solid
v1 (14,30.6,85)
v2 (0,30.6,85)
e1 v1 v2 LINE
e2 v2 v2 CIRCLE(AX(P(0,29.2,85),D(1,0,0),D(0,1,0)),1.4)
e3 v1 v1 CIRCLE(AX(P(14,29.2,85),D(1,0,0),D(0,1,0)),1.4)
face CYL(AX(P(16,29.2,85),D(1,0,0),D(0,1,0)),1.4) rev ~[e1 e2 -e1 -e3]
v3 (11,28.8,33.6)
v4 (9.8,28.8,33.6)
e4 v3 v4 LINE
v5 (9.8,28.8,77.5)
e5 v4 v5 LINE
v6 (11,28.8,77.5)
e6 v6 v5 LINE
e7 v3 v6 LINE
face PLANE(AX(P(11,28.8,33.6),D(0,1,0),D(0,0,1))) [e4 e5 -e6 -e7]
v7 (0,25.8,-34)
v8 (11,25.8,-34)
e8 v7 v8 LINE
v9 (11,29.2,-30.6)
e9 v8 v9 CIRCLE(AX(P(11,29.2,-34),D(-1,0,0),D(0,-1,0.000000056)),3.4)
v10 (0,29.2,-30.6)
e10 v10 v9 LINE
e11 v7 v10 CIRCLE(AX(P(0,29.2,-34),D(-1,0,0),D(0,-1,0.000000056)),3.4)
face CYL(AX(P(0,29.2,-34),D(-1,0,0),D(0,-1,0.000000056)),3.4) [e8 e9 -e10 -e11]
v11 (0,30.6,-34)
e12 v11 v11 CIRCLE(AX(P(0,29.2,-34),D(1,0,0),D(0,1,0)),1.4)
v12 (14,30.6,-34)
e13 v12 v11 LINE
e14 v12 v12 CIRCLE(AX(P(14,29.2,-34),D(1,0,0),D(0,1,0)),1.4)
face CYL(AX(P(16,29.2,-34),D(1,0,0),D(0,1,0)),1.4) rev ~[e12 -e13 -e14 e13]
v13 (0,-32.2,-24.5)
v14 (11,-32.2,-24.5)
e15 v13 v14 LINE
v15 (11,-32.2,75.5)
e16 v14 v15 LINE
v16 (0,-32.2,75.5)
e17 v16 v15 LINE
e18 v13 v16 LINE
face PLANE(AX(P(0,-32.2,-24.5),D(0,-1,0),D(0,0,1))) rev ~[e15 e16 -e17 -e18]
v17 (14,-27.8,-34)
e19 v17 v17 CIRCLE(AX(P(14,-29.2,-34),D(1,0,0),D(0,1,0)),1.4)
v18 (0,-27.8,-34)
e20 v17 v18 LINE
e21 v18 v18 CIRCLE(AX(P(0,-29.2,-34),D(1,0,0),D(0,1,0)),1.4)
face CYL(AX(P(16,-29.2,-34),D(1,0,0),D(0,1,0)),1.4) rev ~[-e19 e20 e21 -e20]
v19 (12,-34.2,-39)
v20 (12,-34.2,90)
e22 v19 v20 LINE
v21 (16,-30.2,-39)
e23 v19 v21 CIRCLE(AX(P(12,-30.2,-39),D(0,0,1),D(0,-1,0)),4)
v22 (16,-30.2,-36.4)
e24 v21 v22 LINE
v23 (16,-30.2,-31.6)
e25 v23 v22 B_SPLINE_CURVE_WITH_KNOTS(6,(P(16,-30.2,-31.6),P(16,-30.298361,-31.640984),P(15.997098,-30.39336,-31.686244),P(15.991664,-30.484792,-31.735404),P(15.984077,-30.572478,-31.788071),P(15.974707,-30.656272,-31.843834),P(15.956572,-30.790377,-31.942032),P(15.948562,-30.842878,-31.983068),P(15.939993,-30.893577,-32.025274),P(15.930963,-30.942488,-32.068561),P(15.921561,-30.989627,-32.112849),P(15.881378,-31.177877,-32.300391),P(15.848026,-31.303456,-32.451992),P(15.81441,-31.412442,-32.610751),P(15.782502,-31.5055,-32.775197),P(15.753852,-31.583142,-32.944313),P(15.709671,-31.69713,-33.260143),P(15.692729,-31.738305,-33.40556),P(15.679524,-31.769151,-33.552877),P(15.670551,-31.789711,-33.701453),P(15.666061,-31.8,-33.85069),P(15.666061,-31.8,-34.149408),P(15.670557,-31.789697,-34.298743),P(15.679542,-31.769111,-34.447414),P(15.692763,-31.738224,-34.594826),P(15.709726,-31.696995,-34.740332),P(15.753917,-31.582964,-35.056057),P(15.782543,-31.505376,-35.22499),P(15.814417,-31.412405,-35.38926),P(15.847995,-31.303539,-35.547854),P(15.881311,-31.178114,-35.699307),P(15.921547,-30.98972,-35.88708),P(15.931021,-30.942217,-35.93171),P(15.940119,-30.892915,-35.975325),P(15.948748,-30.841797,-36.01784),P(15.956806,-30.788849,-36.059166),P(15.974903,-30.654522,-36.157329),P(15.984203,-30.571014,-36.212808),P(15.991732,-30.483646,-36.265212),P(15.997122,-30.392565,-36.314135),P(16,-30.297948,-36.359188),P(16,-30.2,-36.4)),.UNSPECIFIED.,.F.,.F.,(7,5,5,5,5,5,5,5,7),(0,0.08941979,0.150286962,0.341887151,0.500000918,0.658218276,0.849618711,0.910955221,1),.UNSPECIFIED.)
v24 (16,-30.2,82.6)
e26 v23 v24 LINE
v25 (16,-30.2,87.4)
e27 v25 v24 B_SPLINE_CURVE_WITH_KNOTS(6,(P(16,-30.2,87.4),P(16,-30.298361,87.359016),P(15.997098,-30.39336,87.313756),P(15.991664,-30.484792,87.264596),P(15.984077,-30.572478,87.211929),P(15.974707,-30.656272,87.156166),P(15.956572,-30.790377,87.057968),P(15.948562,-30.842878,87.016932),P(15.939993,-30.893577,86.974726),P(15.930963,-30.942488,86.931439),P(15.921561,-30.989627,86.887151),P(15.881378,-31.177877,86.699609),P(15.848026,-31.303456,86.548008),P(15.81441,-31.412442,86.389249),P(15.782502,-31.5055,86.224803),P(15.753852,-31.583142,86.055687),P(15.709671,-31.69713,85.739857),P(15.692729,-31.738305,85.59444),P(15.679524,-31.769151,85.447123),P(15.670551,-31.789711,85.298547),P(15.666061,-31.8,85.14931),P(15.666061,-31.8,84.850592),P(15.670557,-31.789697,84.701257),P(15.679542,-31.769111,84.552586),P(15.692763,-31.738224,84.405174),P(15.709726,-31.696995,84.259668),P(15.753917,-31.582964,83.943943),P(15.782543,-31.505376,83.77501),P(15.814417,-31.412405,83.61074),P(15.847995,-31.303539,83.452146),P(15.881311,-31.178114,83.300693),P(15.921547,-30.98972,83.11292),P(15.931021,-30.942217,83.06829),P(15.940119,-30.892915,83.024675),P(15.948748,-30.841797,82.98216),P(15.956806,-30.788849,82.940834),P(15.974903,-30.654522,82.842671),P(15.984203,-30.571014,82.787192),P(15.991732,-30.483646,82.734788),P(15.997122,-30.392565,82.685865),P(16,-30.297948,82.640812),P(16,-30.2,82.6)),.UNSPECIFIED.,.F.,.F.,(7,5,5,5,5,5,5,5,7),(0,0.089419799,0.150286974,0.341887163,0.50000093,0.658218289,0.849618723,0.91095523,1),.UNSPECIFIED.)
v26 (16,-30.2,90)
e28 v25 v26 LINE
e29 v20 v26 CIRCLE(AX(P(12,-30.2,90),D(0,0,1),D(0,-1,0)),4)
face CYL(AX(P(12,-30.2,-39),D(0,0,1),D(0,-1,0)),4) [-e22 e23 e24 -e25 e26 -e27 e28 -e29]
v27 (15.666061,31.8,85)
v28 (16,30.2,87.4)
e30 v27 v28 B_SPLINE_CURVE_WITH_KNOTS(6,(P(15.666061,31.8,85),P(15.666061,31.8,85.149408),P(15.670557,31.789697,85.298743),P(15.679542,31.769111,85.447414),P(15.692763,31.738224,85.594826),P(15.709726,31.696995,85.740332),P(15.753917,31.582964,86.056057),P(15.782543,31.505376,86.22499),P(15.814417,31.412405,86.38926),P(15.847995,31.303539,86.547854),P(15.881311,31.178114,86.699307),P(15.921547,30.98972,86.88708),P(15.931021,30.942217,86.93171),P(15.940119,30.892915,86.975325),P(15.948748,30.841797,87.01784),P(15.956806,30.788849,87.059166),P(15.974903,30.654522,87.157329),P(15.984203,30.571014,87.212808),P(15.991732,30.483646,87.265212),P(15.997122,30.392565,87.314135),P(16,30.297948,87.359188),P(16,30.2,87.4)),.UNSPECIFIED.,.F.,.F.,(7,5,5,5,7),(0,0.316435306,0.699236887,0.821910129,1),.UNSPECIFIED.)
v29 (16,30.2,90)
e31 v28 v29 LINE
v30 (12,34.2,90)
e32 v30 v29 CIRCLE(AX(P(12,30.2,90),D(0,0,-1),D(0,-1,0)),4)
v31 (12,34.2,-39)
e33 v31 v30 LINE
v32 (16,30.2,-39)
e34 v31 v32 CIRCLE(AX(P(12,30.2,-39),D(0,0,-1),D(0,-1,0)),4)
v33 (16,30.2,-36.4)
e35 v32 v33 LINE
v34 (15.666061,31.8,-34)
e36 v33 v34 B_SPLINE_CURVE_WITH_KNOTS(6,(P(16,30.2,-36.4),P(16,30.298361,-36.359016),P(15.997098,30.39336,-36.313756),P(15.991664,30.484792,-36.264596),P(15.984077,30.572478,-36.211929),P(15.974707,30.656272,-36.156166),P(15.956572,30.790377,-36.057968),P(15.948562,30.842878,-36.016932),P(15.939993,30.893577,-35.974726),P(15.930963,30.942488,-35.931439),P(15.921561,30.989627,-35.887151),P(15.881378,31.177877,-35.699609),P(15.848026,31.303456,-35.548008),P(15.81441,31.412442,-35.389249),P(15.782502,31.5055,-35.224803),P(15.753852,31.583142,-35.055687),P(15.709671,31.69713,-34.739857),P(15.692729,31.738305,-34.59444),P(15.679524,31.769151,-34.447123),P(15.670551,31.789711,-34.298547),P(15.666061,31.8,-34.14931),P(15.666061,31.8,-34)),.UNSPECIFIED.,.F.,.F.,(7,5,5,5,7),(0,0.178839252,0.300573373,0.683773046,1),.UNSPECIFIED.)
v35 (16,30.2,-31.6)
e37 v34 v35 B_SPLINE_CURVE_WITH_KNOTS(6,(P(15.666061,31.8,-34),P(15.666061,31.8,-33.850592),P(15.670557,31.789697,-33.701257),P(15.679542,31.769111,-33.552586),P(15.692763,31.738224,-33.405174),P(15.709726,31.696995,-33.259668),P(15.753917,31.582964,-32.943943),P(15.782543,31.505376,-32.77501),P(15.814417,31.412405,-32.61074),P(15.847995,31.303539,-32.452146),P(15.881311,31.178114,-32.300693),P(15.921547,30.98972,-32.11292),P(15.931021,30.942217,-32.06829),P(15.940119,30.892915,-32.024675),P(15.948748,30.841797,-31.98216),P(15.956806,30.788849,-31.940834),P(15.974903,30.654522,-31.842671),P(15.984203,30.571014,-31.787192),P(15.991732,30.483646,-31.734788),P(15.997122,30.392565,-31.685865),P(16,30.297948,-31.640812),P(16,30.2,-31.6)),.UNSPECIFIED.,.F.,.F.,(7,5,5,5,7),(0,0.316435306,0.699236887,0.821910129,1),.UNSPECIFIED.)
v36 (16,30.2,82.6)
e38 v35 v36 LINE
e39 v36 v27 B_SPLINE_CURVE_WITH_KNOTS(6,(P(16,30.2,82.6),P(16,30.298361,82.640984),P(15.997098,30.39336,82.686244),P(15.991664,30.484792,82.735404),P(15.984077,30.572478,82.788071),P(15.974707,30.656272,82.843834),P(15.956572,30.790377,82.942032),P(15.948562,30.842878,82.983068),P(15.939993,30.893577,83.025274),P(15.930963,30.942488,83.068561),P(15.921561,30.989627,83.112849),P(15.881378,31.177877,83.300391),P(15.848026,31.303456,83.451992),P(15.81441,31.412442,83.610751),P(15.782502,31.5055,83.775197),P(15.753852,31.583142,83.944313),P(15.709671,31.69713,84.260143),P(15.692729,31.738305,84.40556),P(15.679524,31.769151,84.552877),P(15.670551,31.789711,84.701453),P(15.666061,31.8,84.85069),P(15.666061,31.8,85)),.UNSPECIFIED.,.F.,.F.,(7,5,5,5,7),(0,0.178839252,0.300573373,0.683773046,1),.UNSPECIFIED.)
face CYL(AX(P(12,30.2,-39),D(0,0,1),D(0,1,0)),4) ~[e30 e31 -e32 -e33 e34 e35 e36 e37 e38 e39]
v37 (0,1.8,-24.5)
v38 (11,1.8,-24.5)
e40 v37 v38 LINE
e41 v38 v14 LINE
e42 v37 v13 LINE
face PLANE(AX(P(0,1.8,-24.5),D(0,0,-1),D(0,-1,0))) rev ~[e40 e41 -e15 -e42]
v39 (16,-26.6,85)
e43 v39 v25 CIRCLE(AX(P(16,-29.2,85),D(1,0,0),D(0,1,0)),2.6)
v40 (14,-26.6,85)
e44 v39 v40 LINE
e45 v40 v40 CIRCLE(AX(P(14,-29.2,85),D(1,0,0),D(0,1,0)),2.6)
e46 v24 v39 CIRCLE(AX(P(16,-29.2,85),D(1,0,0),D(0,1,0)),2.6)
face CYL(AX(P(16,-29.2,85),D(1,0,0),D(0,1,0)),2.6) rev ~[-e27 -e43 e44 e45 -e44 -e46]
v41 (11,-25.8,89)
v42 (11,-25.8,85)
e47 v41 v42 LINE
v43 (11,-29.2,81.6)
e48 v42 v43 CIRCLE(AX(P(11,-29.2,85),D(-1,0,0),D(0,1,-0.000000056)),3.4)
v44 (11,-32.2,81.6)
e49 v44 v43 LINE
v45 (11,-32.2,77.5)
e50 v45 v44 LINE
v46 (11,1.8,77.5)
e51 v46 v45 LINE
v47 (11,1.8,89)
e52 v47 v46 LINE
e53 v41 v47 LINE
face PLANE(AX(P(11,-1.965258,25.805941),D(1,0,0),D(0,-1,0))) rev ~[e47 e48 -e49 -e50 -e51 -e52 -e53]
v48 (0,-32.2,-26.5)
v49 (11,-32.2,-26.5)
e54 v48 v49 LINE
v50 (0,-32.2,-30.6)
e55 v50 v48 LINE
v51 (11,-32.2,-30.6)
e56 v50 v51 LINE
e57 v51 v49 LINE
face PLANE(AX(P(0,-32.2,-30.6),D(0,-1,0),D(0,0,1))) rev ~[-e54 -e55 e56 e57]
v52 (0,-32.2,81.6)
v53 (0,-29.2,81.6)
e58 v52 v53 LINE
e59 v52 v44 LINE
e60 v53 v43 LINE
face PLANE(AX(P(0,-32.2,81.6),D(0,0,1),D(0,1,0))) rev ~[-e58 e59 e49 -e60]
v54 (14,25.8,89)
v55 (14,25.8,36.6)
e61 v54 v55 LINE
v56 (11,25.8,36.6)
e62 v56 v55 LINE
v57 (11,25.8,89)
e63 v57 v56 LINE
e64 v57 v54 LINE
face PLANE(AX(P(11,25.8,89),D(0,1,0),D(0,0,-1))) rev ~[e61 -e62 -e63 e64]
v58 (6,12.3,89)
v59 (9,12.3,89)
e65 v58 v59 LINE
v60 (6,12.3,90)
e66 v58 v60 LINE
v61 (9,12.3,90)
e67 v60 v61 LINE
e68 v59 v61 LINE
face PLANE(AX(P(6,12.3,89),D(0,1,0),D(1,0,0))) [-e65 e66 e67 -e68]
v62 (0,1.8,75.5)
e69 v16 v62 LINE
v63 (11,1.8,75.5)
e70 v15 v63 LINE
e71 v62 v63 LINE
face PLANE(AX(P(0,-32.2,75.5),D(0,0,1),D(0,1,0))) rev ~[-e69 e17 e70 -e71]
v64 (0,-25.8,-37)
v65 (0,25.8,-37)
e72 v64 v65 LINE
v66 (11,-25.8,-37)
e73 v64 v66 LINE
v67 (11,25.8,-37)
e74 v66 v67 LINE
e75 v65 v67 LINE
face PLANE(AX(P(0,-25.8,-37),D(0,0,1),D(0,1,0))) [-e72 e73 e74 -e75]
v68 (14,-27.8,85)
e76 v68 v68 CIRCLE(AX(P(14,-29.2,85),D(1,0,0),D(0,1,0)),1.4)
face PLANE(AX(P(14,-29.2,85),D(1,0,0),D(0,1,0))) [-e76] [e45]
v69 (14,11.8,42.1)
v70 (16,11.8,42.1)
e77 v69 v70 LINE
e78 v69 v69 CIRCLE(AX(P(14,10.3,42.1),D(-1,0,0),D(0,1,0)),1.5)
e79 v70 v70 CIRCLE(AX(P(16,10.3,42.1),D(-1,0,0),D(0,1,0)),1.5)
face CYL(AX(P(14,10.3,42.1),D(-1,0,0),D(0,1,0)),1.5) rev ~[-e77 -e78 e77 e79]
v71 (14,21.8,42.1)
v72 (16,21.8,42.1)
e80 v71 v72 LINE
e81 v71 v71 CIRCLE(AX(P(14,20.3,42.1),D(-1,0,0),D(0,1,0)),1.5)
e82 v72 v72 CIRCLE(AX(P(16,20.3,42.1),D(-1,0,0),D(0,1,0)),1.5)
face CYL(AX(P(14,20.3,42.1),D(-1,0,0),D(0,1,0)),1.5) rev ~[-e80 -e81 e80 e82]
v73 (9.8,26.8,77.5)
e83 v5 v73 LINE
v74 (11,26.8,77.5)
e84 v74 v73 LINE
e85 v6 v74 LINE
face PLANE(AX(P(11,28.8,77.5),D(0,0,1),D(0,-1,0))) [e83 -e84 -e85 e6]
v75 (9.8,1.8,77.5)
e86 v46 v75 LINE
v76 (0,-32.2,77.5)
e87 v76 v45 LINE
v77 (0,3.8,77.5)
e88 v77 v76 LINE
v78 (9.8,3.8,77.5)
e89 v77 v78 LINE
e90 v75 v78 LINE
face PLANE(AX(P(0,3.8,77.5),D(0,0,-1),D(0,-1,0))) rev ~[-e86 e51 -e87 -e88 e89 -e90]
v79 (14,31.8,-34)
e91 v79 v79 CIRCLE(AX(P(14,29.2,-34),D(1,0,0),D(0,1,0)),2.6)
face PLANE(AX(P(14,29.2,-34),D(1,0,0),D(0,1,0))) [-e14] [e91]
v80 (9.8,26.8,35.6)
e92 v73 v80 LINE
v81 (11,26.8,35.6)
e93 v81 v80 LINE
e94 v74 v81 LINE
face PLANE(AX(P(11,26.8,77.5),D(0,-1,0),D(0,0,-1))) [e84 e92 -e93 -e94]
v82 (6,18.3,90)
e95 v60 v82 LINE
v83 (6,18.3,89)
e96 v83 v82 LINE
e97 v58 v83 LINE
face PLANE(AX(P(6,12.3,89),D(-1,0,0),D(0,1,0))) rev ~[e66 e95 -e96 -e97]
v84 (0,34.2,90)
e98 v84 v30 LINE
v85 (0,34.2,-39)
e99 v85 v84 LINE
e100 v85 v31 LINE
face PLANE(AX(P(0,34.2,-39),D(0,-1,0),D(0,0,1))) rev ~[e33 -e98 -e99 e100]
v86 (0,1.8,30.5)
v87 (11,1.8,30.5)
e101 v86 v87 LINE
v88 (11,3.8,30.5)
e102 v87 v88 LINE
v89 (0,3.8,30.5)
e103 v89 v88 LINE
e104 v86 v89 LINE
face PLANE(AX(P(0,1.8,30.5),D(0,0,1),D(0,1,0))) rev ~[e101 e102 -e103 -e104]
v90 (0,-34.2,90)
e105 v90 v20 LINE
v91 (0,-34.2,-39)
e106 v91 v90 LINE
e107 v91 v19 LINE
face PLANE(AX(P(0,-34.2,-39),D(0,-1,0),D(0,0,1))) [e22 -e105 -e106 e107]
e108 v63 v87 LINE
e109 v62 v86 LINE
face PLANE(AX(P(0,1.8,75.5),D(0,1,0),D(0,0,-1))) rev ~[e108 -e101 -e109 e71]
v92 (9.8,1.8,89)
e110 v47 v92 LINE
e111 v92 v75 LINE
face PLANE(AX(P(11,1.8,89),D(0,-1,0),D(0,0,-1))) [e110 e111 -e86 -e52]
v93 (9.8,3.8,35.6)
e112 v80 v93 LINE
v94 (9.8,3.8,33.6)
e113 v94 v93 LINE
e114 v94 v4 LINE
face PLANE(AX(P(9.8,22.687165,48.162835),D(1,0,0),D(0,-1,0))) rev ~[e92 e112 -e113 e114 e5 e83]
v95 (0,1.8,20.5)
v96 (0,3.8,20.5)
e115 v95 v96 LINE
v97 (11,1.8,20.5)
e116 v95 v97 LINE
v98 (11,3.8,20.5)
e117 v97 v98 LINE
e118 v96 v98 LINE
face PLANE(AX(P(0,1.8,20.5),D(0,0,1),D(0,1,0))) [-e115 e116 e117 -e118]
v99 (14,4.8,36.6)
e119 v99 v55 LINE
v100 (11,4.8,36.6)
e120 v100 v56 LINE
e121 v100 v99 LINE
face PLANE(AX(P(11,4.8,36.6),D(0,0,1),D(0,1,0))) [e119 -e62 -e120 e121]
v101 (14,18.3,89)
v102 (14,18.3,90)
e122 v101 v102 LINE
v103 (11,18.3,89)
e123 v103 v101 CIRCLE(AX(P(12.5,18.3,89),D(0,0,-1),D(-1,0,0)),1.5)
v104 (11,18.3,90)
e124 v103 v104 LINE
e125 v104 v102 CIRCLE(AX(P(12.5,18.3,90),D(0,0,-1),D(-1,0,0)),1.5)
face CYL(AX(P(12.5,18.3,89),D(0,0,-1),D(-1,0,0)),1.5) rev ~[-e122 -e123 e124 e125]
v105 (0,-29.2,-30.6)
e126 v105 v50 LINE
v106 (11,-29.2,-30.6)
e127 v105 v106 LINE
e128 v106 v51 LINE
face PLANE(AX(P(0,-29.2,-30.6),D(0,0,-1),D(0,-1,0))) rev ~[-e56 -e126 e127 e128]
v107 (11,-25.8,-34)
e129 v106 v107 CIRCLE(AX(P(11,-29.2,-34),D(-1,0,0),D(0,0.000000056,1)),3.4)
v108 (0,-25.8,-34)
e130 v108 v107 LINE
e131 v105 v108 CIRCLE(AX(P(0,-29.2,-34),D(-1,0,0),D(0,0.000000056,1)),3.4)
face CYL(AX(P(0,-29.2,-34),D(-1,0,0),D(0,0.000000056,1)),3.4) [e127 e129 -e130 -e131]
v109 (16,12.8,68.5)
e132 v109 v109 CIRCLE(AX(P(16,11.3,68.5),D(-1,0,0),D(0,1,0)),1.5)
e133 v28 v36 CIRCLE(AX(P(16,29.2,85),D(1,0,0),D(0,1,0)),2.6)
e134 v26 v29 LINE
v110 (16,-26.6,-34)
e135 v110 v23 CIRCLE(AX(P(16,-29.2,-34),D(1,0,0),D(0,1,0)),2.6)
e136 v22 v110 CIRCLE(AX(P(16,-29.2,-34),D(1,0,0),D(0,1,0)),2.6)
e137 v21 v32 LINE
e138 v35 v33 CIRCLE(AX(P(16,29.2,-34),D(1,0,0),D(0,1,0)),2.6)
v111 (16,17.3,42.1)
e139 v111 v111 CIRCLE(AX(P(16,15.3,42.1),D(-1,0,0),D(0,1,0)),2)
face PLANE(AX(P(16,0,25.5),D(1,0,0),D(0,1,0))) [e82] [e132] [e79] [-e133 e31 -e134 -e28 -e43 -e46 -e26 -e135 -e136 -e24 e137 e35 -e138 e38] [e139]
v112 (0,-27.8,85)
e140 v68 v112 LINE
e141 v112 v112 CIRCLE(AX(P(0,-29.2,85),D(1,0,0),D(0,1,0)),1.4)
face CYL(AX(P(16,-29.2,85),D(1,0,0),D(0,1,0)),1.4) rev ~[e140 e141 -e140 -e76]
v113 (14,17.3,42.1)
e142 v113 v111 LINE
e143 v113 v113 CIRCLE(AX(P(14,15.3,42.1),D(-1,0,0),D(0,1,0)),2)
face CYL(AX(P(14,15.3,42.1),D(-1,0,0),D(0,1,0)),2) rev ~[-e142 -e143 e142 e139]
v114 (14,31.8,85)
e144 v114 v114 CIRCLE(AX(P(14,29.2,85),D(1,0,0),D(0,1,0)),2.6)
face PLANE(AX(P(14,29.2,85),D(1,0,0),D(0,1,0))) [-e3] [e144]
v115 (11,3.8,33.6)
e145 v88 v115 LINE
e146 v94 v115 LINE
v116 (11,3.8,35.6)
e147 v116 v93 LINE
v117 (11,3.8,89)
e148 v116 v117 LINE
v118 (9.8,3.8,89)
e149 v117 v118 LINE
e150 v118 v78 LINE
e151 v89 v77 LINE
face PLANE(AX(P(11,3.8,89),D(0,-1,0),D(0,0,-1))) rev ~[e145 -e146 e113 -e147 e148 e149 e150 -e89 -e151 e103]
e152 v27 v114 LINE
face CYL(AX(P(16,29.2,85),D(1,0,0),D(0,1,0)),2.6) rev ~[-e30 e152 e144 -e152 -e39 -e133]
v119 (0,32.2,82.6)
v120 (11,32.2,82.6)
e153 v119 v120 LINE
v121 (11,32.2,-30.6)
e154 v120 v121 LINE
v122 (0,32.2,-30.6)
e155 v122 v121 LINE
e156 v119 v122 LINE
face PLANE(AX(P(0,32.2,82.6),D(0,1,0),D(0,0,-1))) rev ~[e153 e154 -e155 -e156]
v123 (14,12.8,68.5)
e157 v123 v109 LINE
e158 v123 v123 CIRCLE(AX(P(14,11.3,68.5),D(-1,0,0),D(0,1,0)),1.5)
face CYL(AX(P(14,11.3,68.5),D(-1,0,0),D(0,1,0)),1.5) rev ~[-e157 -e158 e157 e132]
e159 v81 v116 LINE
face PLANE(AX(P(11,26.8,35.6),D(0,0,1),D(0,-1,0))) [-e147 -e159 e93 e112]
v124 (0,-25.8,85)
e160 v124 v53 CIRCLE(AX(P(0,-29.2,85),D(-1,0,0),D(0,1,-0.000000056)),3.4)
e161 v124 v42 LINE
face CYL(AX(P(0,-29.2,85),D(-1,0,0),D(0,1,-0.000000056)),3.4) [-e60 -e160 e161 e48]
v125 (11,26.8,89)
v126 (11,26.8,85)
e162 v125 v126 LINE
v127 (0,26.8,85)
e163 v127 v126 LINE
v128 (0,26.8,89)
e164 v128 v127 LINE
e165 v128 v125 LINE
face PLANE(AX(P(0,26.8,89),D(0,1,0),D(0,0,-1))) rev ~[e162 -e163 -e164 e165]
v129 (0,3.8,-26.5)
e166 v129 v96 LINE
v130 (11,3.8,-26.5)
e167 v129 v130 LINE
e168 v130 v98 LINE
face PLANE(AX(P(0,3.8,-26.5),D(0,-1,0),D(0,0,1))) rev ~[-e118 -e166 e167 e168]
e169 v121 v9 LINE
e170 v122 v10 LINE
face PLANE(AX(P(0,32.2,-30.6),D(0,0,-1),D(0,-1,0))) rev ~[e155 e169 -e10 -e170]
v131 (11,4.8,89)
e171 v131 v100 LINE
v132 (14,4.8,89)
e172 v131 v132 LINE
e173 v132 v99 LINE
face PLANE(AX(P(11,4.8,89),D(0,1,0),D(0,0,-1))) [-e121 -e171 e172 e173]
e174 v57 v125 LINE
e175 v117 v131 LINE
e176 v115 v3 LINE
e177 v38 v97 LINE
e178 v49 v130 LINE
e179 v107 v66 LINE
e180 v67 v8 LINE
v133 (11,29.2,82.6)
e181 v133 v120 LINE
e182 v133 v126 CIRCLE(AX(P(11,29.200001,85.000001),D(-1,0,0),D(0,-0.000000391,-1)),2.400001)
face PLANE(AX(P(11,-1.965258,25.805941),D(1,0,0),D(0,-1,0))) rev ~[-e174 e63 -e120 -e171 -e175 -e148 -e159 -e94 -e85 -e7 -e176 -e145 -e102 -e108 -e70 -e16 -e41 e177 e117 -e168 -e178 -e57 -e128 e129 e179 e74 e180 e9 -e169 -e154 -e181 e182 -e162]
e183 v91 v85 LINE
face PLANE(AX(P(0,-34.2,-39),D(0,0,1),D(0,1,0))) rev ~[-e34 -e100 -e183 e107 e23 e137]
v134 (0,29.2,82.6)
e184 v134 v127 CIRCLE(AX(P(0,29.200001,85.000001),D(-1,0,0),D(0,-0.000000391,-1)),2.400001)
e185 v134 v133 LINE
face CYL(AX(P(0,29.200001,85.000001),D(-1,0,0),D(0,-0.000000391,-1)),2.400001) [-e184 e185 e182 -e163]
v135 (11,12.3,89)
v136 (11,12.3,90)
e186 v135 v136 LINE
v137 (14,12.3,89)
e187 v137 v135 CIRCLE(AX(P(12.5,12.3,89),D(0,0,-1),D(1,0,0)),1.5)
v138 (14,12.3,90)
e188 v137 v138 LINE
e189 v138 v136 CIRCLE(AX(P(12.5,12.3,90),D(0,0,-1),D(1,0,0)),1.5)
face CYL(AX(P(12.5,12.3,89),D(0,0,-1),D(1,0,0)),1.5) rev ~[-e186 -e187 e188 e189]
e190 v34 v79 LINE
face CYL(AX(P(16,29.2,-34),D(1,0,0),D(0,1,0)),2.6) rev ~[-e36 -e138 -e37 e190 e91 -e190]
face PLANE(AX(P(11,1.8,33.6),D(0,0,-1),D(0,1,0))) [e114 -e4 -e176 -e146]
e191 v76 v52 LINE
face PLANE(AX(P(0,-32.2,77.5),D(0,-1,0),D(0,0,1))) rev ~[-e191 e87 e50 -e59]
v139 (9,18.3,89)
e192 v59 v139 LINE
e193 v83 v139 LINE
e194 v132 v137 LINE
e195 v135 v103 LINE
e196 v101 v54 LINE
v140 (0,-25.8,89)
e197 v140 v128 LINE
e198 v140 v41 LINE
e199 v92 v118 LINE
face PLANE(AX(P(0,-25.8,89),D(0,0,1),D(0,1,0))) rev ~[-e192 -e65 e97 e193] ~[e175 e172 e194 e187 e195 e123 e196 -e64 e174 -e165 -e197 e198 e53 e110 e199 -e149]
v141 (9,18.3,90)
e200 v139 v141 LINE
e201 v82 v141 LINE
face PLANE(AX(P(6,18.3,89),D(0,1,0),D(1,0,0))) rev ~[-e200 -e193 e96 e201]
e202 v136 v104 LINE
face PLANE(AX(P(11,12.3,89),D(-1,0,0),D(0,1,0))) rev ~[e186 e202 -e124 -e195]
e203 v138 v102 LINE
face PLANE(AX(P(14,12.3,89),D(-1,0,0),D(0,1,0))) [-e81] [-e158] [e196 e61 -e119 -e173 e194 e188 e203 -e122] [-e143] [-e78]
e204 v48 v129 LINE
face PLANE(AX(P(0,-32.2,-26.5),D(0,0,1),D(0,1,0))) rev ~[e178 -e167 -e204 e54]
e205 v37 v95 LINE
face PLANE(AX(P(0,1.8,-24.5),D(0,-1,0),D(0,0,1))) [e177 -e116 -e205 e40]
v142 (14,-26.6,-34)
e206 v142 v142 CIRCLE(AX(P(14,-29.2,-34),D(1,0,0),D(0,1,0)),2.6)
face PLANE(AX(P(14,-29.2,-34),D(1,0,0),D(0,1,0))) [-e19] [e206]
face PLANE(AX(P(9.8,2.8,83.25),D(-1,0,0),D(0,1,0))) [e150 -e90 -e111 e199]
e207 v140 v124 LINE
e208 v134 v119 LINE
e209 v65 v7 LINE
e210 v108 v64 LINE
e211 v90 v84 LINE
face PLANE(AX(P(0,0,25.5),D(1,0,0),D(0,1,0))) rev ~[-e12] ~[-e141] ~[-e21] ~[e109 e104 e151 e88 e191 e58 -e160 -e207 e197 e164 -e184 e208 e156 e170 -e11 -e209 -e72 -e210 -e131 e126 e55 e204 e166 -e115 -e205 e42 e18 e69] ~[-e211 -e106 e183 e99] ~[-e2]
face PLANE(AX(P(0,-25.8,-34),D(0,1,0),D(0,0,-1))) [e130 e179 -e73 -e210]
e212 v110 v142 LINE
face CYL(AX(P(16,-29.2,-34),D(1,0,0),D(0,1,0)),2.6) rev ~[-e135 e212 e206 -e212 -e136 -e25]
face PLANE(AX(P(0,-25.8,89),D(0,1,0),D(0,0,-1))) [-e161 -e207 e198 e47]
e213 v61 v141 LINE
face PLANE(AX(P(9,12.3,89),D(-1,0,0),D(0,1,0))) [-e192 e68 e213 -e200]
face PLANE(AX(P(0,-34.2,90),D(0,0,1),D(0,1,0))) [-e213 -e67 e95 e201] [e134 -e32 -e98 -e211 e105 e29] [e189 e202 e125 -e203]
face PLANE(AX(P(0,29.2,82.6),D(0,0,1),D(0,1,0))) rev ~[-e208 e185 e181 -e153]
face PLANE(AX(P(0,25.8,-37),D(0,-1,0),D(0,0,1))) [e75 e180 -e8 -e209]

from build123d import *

# Parameters (mm, degrees)
SKETCH016_W     = 68.4
SKETCH016_H     = 129
PAD004_DEPTH    = 16
FILLET002_R     = 4
SKETCH017_R     = 1.4
POCKET016_DEPTH = 16
SKETCH018_R     = 2.6
POCKET017_DEPTH = 2
POCKET018_DEPTH = 11
SKETCH020_W     = 21
SKETCH020_H     = 52.4
POCKET019_DEPTH = 3
SKETCH021_W     = 6
SKETCH021_H     = 3
POCKET020_DEPTH = 1
SKETCH022_W     = 2
SKETCH022_H     = 11.5
PAD005_DEPTH    = 1.2
SKETCH023_R     = 2
SKETCH023_R_2   = 1.5
POCKET021_DEPTH = 5


with BuildPart() as part:
    # Sketch016 → Pad004 (new body)
    with BuildSketch(Plane.YZ):
        with Locations((0, 25.5)):
            Rectangle(SKETCH016_W, SKETCH016_H)
    extrude(amount=PAD004_DEPTH)

    # Fillet002
    fillet002_edges = [part.edges().sort_by_distance(p)[0] for p in [
        (16, -34.2, 25.5),
        (16, 34.2, 25.5),
    ]]
    fillet(fillet002_edges, radius=FILLET002_R)

    # Sketch017 (on Face8 of Fillet002) → Pocket016 (cut)
    with BuildSketch(Plane.YZ.offset(16)):
        with Locations((-29.2, 85)):
            Circle(SKETCH017_R)
        with Locations((29.2, 85)):
            Circle(SKETCH017_R)
        with Locations((29.2, -34)):
            Circle(SKETCH017_R)
        with Locations((-29.2, -34)):
            Circle(SKETCH017_R)
    extrude(amount=-POCKET016_DEPTH, mode=Mode.SUBTRACT)

    # Sketch018 (on Face8 of Pocket016) → Pocket017 (cut)
    with BuildSketch(Plane.YZ.offset(16)):
        with Locations((-29.2, 85)):
            Circle(SKETCH018_R)
        with Locations((29.2, 85)):
            Circle(SKETCH018_R)
        with Locations((29.2, -34)):
            Circle(SKETCH018_R)
        with Locations((-29.2, -34)):
            Circle(SKETCH018_R)
    extrude(amount=-POCKET017_DEPTH, mode=Mode.SUBTRACT)

    # Sketch019 (on Face4 of Pocket017) → Pocket018 (cut)
    with BuildSketch(Plane(origin=(0, 0, 0), x_dir=(0, 1, 0), z_dir=(-1, 0, 0))):
        with BuildLine():
            ThreePointArc((25.8, 34), (26.795837, 31.595837), (29.2, 30.6))
            Line((32.2, 30.6), (29.2, 30.6))
            Line((32.2, -82.6), (32.2, 30.6))
            Line((29.2, -82.6), (32.2, -82.6))
            ThreePointArc((29.2, -82.6), (27.502944, -83.302944), (26.8, -85))
            Line((26.8, -89), (26.8, -85))
            Line((-25.8, -89), (26.8, -89))
            Line((-25.8, -89), (-25.8, -85))
            ThreePointArc((-25.8, -85), (-26.795837, -82.595837), (-29.2, -81.6))
            Line((-32.2, -81.6), (-29.2, -81.6))
            Line((-32.2, -77.5), (-32.2, -81.6))
            Line((3.8, -77.5), (-32.2, -77.5))
            Line((3.8, -30.5), (3.8, -77.5))
            Line((1.8, -30.5), (3.8, -30.5))
            Line((1.8, -75.5), (1.8, -30.5))
            Line((-32.2, -75.5), (1.8, -75.5))
            Line((-32.2, 24.5), (-32.2, -75.5))
            Line((1.8, 24.5), (-32.2, 24.5))
            Line((1.8, 24.5), (1.8, -20.5))
            Line((1.8, -20.5), (3.8, -20.5))
            Line((3.8, 26.5), (3.8, -20.5))
            Line((-32.2, 26.5), (3.8, 26.5))
            Line((-32.2, 30.6), (-32.2, 26.5))
            Line((-29.2, 30.6), (-32.2, 30.6))
            ThreePointArc((-29.2, 30.6), (-26.795837, 31.595837), (-25.8, 34))
            Line((-25.8, 34), (-25.8, 37))
            Line((-25.8, 37), (25.8, 37))
            Line((25.8, 37), (25.8, 34))
        make_face()
    extrude(amount=-POCKET018_DEPTH, mode=Mode.SUBTRACT)

    # Sketch020 (on Face49 of Pocket018) → Pocket019 (cut)
    with BuildSketch(Plane(origin=(11, 0, 0), x_dir=(0, 1, 0), z_dir=(-1, 0, 0))):
        with Locations((15.3, -62.8)):
            Rectangle(SKETCH020_W, SKETCH020_H)
    extrude(amount=-POCKET019_DEPTH, mode=Mode.SUBTRACT)

    # Sketch021 (on Face50 of Pocket019) → Pocket020 (cut)
    with BuildSketch(Plane.YX.offset(-89)):
        with BuildLine():
            ThreePointArc((12.3, 14), (10.8, 12.5), (12.3, 11))
            Line((12.3, 11), (18.3, 11))
            ThreePointArc((18.3, 11), (19.8, 12.5), (18.3, 14))
            Line((12.3, 14), (18.3, 14))
        make_face()
        with Locations((15.3, 7.5)):
            Rectangle(SKETCH021_W, SKETCH021_H)
    extrude(amount=-POCKET020_DEPTH, mode=Mode.SUBTRACT)

    # Sketch022 (on Face60 of Pocket020) → Pad005 (join)
    with BuildSketch(Plane(origin=(11, 0, 0), x_dir=(0, 1, 0), z_dir=(-1, 0, 0))):
        with Locations((2.8, -83.25)):
            Rectangle(SKETCH022_W, SKETCH022_H)
        Polygon((1.8, -33.6), (28.8, -33.6), (28.8, -77.5), (26.8, -77.5), (26.8, -35.6), (1.8, -35.6), align=None)
    extrude(amount=PAD005_DEPTH)

    # Sketch023 (on Face55 of Pad005) → Pocket021 (cut)
    with BuildSketch(Plane(origin=(14, 0, 0), x_dir=(0, 1, 0), z_dir=(-1, 0, 0))):
        with Locations((15.3, -42.1)):
            Circle(SKETCH023_R)
        with Locations((10.3, -42.1)):
            Circle(SKETCH023_R_2)
        with Locations((20.3, -42.1)):
            Circle(SKETCH023_R_2)
        with Locations((11.3, -68.5)):
            Circle(SKETCH023_R_2)
    extrude(amount=-POCKET021_DEPTH, mode=Mode.SUBTRACT)


solid = part.part
